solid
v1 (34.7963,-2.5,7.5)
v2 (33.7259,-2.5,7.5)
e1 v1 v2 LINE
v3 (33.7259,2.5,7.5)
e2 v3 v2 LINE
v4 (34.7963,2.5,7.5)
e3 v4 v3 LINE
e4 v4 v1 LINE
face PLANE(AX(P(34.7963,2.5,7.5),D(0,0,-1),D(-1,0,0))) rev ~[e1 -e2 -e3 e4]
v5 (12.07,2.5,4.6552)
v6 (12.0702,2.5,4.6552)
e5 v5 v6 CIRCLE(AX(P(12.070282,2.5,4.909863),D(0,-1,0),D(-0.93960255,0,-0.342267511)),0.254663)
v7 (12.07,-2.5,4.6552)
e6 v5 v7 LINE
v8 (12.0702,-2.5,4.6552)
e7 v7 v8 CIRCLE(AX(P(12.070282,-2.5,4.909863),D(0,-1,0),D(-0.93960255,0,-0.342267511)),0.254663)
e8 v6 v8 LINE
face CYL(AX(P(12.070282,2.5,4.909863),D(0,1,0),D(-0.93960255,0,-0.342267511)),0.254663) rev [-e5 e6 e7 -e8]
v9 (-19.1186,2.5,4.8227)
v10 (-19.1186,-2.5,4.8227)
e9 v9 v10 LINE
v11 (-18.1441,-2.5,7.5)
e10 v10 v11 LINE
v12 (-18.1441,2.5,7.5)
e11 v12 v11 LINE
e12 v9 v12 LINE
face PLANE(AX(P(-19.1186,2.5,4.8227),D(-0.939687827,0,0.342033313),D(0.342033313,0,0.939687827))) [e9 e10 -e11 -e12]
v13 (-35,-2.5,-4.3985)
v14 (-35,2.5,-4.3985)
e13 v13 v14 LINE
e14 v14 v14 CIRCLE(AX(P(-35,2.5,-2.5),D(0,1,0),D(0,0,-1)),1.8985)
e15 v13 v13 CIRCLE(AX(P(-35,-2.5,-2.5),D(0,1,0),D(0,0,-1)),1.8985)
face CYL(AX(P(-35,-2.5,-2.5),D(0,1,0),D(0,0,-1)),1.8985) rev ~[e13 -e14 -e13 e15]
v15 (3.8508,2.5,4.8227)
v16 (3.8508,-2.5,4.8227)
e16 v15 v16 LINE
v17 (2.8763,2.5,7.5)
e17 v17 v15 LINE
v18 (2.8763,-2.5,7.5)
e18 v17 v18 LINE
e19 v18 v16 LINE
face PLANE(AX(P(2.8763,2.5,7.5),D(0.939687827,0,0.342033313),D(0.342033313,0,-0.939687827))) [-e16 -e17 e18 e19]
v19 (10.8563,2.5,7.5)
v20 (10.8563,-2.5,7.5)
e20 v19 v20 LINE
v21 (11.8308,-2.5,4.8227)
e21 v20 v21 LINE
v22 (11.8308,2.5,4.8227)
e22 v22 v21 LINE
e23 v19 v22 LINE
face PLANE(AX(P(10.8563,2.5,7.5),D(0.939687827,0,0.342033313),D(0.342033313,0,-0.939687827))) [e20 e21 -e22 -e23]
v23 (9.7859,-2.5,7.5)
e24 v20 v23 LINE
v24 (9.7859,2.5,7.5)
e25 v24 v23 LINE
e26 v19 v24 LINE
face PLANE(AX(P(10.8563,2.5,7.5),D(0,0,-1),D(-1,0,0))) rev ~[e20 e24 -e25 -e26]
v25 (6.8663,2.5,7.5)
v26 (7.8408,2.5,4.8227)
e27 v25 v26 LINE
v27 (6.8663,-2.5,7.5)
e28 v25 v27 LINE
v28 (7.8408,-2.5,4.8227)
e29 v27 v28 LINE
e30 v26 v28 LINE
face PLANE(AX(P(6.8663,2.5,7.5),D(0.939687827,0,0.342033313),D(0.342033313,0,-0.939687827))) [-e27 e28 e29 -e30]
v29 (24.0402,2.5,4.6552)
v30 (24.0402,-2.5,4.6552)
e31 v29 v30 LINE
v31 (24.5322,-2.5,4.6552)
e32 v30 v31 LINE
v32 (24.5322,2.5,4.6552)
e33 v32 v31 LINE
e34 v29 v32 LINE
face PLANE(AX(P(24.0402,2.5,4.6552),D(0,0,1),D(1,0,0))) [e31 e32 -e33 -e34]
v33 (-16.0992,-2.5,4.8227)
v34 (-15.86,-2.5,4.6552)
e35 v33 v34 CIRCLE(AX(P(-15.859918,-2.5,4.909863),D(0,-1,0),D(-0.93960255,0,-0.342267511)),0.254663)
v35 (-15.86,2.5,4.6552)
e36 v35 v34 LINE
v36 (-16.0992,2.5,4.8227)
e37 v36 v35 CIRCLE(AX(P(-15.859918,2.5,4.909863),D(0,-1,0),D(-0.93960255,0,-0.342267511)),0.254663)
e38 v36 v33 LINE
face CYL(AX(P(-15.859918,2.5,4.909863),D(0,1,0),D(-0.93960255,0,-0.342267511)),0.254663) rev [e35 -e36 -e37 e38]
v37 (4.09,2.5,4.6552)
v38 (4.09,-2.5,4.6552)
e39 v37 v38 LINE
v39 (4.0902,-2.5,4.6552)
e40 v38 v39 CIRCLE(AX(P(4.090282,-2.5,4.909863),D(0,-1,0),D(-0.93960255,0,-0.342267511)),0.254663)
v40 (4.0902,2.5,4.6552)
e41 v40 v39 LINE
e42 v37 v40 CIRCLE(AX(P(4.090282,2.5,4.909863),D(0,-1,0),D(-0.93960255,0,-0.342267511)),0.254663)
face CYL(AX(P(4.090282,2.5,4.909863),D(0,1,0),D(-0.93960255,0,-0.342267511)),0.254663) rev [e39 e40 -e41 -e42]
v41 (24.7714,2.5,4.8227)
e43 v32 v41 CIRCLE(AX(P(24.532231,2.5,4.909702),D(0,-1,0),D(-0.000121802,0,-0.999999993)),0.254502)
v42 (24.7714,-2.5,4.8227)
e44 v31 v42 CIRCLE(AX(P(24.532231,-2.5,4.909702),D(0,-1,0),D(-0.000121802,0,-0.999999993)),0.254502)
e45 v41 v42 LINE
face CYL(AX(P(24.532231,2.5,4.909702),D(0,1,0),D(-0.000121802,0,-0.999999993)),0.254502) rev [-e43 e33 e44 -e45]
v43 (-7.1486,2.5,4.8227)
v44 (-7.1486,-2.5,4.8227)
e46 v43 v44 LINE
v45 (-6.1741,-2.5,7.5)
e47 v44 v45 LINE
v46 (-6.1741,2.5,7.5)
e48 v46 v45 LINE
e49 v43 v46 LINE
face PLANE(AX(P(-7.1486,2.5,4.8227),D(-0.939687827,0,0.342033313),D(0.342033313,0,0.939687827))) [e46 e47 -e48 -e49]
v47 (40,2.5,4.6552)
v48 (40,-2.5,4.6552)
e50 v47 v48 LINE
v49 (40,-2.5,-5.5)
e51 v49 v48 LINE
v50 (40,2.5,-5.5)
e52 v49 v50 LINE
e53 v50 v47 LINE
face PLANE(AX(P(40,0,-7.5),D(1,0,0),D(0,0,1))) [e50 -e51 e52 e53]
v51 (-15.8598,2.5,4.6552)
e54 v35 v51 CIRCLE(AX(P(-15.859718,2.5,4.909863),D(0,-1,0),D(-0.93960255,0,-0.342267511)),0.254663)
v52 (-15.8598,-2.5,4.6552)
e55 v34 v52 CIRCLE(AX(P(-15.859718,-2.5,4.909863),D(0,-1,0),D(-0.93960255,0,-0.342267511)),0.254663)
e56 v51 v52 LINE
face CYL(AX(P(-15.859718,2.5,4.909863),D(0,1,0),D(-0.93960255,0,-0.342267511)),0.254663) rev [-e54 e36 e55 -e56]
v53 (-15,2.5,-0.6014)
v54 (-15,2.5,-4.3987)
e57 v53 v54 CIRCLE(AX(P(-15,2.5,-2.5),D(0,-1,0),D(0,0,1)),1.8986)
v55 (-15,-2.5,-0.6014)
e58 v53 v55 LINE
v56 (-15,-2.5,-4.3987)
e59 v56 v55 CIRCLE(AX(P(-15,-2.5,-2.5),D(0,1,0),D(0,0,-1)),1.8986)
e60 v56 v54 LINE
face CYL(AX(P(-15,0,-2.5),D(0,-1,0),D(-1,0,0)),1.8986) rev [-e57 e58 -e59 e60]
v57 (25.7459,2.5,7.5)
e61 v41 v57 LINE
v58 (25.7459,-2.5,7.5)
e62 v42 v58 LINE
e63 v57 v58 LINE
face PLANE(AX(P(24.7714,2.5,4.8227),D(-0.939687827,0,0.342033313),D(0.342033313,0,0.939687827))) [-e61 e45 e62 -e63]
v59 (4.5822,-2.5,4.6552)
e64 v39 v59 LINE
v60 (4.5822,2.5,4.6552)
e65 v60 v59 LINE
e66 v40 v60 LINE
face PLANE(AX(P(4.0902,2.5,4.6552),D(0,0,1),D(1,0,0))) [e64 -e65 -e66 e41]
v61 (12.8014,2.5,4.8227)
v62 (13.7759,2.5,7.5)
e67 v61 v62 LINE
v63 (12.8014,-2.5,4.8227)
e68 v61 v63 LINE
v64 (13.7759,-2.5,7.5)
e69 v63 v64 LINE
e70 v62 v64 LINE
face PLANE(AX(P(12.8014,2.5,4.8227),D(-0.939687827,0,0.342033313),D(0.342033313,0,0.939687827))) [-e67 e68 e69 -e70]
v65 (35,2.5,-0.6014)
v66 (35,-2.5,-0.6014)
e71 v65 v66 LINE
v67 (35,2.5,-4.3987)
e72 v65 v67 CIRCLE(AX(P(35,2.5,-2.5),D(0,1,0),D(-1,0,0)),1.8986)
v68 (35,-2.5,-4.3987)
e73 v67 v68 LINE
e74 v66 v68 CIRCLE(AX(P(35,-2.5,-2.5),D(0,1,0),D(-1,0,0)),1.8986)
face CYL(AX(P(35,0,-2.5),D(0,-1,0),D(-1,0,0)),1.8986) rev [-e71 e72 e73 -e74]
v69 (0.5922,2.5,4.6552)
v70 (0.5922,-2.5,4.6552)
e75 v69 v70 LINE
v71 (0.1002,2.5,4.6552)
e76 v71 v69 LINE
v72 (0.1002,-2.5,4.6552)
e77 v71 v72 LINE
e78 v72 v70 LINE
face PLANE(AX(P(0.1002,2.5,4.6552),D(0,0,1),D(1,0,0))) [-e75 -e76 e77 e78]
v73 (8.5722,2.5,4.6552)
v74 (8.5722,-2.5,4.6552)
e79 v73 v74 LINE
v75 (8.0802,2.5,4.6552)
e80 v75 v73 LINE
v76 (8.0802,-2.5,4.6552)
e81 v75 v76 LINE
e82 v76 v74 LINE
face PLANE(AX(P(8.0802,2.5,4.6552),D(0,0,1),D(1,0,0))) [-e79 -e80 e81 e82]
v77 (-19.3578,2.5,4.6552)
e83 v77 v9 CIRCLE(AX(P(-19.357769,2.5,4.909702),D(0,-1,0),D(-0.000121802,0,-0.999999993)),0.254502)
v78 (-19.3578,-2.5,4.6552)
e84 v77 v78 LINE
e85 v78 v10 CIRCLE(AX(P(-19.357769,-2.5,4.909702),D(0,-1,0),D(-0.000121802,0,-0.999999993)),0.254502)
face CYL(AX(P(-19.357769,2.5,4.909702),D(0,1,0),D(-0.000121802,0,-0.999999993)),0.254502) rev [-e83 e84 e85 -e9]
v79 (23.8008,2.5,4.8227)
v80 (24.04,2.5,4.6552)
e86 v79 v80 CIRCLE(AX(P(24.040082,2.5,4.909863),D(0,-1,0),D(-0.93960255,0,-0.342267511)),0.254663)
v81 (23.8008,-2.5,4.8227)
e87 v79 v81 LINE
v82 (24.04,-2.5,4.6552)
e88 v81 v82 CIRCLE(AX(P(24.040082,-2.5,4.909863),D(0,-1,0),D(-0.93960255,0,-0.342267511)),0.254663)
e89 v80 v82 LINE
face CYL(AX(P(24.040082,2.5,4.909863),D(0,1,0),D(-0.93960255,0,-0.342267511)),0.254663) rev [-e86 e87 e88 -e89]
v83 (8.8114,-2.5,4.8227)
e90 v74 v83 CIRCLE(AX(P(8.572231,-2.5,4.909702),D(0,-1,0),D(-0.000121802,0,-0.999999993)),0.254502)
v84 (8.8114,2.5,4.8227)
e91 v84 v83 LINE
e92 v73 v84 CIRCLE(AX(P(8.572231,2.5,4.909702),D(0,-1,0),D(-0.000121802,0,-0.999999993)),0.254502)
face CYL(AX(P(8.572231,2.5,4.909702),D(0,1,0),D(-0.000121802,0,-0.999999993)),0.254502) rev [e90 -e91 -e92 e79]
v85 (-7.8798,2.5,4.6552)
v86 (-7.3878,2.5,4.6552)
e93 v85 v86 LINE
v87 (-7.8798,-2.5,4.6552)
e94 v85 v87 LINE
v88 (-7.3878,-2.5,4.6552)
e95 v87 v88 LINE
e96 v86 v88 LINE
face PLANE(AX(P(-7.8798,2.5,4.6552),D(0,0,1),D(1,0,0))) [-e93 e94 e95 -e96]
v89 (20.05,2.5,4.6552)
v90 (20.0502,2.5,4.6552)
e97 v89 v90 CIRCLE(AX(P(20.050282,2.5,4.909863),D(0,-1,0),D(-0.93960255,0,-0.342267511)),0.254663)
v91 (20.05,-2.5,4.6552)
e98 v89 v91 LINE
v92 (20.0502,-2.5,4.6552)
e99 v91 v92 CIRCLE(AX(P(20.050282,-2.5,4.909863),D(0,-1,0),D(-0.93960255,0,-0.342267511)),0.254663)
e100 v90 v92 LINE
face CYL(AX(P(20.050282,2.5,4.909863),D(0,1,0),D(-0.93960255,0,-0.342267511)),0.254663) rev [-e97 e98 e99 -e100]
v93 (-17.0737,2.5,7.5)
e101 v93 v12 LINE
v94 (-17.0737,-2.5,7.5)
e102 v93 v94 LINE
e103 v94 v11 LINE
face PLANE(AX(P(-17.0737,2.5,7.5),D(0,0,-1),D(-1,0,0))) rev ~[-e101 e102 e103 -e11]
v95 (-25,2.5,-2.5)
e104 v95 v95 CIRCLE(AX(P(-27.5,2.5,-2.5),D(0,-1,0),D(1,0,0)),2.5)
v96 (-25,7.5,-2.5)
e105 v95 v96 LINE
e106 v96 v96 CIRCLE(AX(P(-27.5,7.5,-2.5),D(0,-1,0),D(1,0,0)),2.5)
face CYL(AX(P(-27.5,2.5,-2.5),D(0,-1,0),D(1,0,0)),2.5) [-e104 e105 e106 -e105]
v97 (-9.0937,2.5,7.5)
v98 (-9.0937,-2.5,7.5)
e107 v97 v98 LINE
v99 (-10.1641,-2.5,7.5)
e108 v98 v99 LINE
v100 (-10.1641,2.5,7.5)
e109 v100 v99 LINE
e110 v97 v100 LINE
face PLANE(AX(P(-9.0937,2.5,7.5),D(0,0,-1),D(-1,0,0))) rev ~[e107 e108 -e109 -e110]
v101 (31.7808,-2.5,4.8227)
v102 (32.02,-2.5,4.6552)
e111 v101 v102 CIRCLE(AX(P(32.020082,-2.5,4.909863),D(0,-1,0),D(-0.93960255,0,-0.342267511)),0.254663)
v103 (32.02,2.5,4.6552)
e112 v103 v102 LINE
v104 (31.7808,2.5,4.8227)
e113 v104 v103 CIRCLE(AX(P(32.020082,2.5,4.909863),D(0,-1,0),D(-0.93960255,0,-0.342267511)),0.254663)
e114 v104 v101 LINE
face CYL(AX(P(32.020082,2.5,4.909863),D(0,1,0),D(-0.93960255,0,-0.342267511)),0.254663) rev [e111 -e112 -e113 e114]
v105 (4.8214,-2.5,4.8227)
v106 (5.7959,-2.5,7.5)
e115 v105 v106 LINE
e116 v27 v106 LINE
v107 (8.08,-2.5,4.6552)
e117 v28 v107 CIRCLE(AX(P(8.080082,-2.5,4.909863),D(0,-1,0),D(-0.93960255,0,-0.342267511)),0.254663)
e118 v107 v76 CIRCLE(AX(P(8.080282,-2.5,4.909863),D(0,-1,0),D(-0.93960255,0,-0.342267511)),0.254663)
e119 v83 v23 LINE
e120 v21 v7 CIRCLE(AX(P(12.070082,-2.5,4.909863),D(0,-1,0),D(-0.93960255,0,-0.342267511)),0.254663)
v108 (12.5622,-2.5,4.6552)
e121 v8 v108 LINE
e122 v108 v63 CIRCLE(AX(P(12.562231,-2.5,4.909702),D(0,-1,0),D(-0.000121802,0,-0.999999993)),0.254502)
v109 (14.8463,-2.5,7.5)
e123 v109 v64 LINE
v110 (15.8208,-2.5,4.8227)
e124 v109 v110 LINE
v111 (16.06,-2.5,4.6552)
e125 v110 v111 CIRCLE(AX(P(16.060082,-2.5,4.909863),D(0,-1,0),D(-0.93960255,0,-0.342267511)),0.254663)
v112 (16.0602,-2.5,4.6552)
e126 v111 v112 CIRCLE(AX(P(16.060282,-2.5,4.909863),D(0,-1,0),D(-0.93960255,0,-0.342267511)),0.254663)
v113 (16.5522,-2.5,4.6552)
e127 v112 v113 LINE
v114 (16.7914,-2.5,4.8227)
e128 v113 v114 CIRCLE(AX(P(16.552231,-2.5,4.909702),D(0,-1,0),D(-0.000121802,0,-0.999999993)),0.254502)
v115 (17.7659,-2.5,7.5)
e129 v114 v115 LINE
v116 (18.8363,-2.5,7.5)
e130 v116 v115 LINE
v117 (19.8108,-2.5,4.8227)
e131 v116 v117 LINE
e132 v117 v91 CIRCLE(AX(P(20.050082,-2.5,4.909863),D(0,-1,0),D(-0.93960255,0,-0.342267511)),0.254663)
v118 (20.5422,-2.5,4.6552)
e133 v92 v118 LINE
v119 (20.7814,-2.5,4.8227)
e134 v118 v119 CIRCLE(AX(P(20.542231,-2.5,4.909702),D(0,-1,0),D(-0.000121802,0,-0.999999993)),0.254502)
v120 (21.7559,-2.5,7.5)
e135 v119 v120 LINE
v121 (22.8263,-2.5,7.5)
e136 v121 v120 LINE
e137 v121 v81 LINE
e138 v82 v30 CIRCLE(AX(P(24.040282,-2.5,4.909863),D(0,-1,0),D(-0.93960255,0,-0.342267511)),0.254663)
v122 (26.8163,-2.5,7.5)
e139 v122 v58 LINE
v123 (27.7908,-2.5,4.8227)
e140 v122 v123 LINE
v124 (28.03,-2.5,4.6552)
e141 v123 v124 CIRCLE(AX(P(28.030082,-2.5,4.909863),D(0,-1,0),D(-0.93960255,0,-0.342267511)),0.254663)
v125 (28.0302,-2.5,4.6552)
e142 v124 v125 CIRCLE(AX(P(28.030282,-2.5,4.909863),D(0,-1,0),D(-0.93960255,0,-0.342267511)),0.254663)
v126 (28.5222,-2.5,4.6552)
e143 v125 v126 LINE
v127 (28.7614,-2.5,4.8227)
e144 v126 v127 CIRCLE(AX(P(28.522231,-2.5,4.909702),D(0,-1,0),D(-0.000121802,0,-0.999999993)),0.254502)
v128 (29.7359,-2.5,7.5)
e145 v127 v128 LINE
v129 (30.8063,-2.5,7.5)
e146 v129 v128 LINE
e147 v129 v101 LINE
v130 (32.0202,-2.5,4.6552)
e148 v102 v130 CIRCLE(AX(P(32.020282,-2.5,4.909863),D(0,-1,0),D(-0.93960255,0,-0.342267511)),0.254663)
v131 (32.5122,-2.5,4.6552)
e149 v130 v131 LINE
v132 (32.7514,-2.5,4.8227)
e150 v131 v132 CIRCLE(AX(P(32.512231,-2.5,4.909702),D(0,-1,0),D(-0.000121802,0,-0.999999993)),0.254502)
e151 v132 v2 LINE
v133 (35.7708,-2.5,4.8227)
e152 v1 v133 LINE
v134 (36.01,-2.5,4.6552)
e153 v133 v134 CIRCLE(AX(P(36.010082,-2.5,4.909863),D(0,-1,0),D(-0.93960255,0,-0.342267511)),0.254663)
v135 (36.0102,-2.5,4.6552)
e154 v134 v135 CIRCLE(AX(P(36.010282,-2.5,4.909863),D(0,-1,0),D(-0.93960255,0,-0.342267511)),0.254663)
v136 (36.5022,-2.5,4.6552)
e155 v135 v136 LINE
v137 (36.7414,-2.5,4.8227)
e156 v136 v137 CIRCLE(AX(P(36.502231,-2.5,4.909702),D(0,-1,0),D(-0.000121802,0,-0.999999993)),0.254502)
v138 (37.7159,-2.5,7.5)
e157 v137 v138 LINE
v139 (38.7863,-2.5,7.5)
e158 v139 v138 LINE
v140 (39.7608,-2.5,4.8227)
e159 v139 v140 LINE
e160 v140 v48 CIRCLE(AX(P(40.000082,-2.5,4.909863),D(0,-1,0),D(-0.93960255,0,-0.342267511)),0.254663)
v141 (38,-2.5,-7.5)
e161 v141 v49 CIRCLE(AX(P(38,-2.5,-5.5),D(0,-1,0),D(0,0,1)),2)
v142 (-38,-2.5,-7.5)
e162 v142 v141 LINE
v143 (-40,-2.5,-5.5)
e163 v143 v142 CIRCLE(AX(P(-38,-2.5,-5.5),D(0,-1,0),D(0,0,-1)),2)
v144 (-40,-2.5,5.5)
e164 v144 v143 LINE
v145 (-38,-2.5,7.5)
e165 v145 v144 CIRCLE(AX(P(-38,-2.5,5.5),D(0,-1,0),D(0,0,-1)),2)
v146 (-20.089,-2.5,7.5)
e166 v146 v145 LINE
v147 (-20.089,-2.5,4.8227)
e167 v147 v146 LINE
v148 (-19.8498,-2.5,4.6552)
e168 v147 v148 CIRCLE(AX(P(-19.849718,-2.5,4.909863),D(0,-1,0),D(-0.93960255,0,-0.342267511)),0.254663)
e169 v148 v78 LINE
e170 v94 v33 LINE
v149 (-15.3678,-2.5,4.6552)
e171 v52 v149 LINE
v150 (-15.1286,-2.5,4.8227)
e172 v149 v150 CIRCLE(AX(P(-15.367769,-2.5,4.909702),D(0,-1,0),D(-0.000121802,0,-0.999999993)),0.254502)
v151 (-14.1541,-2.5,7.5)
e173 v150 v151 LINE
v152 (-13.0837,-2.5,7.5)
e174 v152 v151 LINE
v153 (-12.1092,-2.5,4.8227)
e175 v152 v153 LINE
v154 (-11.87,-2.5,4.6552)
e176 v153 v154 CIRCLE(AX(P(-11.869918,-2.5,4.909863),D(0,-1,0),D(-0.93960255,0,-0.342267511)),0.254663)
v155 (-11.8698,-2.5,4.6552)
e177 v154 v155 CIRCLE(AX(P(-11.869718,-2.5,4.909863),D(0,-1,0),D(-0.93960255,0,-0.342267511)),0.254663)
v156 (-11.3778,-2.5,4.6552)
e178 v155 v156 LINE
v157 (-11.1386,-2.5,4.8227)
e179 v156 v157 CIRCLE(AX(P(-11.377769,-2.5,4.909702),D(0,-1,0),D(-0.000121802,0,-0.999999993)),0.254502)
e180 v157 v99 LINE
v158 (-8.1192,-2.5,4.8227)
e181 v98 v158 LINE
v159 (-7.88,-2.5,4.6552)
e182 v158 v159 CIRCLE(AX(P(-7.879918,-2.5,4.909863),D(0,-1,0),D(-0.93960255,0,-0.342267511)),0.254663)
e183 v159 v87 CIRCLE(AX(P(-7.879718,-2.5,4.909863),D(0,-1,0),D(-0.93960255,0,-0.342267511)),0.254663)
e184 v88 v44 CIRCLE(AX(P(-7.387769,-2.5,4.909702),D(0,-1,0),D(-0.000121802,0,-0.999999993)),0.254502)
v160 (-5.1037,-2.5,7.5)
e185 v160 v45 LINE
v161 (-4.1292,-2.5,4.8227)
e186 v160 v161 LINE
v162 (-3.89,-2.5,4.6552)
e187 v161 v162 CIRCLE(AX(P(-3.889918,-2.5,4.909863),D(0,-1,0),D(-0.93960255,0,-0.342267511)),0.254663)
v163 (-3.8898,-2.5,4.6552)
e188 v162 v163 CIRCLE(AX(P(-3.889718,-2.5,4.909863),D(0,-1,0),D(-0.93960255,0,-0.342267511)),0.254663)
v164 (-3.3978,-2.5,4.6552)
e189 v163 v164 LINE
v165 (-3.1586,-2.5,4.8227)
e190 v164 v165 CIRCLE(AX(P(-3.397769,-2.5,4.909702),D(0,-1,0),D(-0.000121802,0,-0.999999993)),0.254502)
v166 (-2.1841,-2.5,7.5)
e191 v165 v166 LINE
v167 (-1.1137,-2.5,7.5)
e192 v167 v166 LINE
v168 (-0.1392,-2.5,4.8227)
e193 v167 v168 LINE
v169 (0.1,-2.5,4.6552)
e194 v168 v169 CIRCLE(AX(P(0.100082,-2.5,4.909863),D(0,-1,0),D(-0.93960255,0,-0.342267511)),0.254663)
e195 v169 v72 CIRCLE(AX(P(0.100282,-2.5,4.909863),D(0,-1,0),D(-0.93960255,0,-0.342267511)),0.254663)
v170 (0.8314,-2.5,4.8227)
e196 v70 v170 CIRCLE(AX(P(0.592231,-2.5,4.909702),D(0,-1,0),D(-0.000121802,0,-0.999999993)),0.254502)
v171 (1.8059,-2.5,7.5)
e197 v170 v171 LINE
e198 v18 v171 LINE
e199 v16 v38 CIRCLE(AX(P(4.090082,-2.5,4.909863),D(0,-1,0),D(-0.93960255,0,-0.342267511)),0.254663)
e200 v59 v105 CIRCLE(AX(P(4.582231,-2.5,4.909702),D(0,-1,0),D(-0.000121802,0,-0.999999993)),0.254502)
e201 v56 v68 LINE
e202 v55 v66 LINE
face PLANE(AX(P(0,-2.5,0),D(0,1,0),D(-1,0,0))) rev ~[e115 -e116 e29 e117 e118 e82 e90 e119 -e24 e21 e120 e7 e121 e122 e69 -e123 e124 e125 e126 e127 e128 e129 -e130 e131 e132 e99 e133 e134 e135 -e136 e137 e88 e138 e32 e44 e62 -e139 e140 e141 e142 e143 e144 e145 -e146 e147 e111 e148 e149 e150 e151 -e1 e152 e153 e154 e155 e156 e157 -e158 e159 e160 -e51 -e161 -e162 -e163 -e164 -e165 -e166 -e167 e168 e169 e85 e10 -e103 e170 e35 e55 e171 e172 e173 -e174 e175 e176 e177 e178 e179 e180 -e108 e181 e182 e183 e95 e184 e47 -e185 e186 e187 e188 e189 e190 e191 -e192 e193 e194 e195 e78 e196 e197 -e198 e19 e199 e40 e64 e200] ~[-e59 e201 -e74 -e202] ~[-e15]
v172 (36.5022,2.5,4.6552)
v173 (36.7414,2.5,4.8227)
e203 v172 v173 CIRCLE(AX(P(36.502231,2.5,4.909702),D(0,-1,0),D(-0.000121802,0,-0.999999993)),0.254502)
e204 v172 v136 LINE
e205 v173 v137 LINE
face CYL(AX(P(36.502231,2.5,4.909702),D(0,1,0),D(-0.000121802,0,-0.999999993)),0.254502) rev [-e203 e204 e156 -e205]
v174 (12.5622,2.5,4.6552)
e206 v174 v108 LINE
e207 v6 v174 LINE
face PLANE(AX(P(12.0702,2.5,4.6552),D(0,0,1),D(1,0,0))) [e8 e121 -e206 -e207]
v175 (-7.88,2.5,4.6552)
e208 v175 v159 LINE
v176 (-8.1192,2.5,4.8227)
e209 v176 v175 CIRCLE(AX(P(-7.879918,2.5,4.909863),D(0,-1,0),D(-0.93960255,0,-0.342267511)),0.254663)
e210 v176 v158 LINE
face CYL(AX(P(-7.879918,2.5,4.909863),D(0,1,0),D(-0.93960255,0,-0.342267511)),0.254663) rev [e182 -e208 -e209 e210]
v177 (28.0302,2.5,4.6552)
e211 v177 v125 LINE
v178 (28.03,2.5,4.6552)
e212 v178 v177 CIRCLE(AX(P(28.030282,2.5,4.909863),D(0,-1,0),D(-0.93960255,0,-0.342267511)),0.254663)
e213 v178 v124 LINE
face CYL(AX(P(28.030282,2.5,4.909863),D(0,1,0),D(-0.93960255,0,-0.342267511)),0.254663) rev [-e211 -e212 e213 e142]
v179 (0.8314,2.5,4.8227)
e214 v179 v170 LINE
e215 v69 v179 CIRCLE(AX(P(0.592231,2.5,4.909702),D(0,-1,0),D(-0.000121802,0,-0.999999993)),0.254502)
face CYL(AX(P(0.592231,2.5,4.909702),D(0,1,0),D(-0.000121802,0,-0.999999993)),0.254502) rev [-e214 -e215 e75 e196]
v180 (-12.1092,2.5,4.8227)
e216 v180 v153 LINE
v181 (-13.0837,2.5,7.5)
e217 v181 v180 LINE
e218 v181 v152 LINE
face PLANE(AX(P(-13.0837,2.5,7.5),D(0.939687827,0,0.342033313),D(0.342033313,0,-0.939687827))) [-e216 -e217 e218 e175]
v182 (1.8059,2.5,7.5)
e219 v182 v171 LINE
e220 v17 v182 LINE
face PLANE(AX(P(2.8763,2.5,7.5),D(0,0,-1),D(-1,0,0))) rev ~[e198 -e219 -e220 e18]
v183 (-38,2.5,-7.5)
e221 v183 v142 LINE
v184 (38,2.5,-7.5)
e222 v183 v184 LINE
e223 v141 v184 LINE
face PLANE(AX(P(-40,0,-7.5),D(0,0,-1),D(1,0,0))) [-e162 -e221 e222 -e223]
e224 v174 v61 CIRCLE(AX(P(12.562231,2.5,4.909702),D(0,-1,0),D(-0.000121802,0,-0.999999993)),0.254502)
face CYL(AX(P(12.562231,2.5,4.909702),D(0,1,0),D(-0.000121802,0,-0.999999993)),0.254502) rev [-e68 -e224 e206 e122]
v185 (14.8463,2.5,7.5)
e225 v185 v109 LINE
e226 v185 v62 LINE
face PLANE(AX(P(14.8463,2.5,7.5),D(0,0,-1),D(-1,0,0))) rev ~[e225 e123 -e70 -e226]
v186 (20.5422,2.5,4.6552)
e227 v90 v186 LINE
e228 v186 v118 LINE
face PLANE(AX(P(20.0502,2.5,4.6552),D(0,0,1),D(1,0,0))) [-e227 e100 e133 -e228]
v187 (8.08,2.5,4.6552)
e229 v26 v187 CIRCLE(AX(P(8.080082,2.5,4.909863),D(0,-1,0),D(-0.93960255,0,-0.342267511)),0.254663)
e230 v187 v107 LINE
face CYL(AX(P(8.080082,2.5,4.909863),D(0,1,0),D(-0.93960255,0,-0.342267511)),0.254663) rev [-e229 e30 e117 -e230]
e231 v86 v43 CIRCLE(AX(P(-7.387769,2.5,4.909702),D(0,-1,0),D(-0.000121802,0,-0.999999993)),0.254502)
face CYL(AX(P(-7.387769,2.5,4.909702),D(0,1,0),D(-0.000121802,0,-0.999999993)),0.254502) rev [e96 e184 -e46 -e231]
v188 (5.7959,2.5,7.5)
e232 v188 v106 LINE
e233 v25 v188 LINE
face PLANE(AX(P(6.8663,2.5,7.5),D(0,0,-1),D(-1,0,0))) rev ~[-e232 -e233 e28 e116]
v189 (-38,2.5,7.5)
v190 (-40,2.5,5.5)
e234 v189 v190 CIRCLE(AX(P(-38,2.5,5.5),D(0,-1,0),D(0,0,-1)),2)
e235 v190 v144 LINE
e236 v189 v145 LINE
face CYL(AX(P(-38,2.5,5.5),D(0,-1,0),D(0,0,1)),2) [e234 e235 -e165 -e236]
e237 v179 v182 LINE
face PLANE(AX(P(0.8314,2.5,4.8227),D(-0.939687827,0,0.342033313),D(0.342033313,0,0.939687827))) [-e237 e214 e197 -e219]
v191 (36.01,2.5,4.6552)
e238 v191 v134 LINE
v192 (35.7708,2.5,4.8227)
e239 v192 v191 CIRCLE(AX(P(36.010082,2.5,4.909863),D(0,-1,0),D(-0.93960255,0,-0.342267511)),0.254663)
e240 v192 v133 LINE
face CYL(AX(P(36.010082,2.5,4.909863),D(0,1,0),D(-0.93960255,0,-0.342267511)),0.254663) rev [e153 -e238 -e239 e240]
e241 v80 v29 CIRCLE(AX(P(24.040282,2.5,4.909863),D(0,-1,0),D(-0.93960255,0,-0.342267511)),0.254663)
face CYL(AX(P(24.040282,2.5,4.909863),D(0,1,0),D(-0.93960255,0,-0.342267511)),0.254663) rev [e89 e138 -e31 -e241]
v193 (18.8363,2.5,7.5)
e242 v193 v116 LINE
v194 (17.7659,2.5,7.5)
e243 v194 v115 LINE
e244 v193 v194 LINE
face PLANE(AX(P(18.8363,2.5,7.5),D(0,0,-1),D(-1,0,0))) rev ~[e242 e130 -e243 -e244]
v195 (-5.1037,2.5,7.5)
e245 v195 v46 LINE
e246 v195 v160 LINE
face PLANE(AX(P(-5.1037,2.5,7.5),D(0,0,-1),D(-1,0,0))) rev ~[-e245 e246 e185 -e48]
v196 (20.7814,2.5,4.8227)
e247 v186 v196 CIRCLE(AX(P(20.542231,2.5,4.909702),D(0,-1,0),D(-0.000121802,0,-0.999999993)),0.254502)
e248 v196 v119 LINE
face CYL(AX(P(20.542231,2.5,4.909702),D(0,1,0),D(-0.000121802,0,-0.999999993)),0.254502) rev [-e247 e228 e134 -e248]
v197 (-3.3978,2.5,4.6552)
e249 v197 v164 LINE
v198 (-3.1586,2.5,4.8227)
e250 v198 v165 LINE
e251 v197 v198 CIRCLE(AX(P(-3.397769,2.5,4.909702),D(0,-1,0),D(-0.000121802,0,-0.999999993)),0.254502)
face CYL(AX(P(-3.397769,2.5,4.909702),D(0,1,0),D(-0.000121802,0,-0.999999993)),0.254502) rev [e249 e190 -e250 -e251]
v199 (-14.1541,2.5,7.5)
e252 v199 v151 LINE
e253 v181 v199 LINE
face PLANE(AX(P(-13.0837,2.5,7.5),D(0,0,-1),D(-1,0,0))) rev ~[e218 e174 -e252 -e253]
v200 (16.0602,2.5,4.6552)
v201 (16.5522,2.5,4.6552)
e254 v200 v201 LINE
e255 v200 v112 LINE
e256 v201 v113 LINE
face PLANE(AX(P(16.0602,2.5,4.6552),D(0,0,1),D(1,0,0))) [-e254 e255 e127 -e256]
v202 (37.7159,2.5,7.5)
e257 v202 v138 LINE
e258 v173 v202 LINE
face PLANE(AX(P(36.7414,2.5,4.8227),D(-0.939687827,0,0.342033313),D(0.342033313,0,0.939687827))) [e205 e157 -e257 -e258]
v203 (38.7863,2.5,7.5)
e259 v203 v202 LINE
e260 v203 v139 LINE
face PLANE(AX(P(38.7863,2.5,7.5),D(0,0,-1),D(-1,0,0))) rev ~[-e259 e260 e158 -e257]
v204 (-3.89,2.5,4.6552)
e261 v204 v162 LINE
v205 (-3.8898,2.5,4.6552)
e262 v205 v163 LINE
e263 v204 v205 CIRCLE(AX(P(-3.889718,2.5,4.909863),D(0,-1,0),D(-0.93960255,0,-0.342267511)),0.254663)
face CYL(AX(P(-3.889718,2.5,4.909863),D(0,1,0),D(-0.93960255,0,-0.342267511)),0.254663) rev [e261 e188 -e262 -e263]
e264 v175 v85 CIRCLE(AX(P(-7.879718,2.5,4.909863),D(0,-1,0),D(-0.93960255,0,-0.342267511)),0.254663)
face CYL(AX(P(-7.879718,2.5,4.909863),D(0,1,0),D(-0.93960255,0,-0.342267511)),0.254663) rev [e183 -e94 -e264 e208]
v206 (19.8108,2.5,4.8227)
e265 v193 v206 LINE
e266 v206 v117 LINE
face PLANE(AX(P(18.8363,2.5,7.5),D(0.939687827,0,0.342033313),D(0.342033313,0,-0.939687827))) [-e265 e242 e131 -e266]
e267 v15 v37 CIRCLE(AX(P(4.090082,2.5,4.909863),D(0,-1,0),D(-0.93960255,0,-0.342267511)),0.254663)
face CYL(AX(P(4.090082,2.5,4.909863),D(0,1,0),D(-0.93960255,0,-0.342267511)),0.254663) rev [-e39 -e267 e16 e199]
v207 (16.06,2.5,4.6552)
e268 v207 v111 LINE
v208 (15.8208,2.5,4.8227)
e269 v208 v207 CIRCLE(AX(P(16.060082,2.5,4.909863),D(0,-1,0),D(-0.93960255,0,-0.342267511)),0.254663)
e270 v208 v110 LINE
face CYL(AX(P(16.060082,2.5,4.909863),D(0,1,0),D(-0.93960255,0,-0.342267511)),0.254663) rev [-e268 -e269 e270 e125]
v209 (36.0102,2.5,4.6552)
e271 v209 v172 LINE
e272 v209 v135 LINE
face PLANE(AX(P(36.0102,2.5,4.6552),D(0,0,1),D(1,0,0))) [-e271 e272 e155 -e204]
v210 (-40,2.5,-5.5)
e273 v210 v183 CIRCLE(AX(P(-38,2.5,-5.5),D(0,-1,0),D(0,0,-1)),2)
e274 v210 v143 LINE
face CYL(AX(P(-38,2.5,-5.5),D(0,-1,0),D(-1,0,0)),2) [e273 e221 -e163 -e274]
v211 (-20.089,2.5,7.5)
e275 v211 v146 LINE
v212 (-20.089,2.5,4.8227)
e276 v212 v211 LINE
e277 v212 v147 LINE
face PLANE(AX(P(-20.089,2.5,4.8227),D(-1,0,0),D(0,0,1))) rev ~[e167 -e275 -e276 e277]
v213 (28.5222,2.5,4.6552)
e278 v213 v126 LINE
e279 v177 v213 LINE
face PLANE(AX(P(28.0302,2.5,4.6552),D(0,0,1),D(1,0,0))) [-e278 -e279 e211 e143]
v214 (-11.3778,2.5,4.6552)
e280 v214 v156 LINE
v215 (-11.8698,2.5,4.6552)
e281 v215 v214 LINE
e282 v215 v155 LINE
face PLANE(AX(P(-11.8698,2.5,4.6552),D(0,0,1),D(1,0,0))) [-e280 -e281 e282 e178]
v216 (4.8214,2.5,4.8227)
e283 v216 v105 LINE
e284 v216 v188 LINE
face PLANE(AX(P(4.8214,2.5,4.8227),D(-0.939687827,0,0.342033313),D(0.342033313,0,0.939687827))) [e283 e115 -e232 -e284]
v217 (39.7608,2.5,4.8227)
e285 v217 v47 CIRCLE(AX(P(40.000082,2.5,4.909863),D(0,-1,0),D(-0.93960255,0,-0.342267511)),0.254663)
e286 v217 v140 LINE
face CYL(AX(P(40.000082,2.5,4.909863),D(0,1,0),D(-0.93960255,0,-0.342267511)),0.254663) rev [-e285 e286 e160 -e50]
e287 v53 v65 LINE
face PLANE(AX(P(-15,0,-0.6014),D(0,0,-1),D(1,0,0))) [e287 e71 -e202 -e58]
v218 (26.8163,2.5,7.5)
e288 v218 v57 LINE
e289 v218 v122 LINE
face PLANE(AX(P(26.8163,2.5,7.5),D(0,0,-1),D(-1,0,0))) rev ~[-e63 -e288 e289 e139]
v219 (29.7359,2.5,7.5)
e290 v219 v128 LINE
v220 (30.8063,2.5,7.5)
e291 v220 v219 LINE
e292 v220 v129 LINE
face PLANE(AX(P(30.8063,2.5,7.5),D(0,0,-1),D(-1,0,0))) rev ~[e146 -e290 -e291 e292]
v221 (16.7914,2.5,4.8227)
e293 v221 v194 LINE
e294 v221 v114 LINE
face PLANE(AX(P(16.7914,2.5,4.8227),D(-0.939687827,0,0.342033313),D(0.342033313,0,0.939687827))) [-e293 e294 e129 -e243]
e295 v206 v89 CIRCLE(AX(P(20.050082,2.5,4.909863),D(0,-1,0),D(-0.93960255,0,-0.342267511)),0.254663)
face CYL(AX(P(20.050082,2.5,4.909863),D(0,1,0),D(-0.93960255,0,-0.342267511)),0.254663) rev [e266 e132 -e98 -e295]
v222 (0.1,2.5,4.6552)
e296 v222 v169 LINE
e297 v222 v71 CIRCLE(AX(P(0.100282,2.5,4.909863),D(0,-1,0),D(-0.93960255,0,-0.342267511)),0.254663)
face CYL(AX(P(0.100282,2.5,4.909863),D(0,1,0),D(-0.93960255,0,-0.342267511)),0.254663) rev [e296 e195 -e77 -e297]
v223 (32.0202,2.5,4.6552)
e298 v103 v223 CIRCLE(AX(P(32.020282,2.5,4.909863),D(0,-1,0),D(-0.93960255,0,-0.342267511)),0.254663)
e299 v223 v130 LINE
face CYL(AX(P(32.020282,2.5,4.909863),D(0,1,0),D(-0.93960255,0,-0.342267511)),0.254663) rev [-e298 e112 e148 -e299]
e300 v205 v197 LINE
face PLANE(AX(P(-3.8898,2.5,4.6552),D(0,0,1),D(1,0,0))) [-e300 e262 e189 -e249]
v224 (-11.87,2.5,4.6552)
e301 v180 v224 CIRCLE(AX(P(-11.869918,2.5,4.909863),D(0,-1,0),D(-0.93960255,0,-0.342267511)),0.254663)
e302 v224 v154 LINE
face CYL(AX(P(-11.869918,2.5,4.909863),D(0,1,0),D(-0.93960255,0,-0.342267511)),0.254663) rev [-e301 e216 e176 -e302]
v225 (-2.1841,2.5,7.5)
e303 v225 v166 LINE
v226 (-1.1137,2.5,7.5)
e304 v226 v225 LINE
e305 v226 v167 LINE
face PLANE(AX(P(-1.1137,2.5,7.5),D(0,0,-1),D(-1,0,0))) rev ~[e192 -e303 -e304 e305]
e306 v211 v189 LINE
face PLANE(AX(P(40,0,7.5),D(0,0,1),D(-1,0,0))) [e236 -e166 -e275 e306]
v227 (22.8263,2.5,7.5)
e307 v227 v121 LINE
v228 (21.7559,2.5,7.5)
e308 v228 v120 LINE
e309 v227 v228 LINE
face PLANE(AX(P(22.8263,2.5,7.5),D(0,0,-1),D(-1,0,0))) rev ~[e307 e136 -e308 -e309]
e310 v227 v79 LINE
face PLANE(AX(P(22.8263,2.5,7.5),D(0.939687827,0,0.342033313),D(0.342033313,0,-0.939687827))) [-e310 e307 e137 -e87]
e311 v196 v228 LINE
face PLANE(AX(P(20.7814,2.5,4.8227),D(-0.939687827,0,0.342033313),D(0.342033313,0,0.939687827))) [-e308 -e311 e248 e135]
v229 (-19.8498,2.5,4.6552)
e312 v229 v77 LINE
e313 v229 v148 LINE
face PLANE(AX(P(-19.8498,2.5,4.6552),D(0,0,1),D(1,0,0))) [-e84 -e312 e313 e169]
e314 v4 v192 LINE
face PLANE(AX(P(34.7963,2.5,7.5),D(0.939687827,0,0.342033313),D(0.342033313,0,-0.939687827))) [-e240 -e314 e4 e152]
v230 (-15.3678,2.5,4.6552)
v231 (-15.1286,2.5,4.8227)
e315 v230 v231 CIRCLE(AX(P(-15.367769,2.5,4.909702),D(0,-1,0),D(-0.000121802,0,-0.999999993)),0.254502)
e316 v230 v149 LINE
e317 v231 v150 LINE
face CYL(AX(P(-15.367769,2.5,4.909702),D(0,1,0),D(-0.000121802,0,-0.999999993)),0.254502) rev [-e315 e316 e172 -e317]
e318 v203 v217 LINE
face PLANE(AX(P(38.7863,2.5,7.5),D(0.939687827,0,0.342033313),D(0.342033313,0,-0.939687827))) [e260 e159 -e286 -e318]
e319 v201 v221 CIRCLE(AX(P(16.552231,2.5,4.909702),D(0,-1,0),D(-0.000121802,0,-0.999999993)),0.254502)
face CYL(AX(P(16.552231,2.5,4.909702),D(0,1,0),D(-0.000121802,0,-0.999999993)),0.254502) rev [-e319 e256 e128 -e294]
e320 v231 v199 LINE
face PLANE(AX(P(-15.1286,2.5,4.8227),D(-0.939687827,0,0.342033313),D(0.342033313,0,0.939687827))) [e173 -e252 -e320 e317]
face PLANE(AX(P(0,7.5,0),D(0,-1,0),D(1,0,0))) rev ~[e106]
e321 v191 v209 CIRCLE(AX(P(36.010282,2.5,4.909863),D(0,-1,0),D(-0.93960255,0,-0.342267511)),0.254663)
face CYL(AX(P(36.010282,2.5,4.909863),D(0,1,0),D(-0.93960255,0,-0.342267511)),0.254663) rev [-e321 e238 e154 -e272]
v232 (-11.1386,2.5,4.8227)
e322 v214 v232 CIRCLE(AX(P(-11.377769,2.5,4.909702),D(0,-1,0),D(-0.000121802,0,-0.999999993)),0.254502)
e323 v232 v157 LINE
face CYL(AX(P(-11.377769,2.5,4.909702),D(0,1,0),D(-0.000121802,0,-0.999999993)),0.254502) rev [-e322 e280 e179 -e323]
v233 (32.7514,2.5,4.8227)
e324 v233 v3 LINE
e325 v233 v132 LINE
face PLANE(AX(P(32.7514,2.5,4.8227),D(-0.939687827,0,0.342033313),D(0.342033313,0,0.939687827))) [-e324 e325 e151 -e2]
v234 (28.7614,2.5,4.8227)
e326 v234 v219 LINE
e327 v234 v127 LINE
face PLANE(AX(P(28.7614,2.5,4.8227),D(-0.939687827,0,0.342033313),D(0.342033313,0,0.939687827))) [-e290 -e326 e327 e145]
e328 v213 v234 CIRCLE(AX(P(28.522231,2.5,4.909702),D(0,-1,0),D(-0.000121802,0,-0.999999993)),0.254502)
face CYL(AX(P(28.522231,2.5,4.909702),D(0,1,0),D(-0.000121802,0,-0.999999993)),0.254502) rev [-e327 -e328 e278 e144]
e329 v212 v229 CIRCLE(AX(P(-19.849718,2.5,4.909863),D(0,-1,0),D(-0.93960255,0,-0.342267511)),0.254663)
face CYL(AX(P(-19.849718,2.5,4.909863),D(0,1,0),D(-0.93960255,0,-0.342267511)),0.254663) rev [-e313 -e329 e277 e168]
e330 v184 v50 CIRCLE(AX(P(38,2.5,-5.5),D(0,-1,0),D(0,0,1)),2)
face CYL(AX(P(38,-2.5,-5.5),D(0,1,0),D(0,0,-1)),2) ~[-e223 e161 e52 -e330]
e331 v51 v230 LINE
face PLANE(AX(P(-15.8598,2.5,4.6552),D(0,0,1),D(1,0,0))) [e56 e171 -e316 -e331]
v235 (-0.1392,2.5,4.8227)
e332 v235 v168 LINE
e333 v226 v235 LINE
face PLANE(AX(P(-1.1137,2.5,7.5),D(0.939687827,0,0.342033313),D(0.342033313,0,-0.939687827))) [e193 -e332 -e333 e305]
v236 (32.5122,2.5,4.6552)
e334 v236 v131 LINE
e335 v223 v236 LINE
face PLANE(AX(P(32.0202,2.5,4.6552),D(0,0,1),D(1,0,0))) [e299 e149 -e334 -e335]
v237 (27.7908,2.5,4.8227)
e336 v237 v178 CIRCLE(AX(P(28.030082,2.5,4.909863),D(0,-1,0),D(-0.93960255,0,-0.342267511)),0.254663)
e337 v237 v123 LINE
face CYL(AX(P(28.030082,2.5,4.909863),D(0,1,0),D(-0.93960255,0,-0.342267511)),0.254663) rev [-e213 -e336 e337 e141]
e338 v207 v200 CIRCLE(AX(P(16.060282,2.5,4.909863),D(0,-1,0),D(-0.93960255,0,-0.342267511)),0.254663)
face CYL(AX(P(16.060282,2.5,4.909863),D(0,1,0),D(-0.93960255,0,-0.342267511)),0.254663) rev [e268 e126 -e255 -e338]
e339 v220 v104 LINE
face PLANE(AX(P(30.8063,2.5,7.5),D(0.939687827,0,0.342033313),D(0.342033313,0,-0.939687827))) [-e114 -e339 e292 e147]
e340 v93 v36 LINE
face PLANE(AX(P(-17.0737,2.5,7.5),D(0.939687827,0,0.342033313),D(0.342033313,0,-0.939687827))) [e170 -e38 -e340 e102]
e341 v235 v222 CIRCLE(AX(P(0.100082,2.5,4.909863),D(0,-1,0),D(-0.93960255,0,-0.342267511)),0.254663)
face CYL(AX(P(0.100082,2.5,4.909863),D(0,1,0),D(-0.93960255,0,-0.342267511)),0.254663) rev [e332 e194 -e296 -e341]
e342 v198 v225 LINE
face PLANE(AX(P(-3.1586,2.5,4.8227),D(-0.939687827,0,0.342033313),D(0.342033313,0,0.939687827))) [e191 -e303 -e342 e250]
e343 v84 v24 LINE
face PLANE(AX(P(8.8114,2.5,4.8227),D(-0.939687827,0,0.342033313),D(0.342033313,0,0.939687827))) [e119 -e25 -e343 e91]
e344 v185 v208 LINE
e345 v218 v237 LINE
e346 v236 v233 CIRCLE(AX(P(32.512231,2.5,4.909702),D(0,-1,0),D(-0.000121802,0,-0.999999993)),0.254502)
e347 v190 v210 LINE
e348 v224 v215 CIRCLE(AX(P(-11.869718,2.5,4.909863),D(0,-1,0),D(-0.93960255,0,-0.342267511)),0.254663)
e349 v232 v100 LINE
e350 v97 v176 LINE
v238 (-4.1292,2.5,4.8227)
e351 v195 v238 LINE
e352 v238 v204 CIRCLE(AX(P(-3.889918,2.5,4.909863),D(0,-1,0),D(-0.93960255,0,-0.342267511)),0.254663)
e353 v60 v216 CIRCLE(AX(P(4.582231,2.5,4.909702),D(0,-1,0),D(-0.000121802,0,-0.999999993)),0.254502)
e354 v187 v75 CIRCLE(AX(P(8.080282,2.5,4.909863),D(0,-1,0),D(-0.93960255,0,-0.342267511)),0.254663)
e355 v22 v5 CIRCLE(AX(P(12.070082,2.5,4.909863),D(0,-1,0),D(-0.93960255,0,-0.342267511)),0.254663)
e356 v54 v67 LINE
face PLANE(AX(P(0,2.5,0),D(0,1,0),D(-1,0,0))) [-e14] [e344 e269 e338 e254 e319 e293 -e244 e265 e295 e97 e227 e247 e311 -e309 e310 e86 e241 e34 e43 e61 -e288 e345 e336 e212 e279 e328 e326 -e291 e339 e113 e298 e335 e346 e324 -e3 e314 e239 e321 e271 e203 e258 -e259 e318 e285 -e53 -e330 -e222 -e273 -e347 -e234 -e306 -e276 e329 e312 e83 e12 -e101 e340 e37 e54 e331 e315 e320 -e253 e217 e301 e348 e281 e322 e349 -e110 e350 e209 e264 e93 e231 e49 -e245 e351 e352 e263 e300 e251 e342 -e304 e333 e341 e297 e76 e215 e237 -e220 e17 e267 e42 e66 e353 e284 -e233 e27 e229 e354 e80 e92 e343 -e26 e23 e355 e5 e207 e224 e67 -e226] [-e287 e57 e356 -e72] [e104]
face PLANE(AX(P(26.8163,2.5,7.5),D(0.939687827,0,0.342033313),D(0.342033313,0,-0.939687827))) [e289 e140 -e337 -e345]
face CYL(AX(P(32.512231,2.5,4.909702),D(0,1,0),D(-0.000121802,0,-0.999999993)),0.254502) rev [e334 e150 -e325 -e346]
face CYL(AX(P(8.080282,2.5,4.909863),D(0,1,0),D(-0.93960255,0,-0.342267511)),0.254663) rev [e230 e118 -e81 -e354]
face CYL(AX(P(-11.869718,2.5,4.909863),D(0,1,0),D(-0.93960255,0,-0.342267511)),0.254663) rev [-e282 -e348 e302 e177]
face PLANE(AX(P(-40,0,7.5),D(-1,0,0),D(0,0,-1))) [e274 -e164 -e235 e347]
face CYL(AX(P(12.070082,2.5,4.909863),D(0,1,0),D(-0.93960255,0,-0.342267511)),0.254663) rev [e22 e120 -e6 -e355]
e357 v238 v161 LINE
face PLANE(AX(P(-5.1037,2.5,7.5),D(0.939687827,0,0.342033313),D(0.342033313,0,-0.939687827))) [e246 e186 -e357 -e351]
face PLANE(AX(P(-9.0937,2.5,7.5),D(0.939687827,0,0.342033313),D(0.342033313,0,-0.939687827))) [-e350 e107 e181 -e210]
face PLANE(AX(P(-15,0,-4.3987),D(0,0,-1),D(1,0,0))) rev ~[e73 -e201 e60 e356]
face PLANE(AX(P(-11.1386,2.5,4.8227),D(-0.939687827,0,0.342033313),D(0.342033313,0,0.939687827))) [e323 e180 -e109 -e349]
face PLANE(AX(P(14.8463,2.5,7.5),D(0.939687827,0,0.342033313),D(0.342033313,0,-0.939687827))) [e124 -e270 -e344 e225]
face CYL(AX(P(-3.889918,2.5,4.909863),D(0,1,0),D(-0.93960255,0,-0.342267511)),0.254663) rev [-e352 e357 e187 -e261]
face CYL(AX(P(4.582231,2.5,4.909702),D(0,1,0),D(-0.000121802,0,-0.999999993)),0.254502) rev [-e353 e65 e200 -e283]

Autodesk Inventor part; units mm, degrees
ref_plane "YZ Plane" through (0, 0, 0) normal (1, 0, 0) x (0, 1, 0)
ref_plane "XZ Plane" through (0, 0, 0) normal (0, 1, 0) x (-1, 0, 0)
ref_plane "XY Plane" through (0, 0, 0) normal (0, 0, 1) x (1, 0, 0)
sketch "Sketch1" plane through (0, 0, 0) normal (0, 1, 0) x (-1, 0, 0)
  line L0 (-40, 7.5) -> (40, 7.5)
  line L1 (40, 7.5) -> (40, -7.5)
  line L2 (40, -7.5) -> (-40, -7.5)
  line L3 (-40, -7.5) -> (-40, 7.5)
  line L4 (-40, 7.5) -> (40, -7.5) construction
  line L5 (40, 7.5) -> (-40, -7.5) construction
  circle A0 centre (15, -2.5) radius 1.8986
  circle A1 centre (-35, -2.5) radius 1.8986
  line L6 (15, -0.6014) -> (-35, -0.6014)
  line L7 (15, -4.3987) -> (-35, -4.3987)
  point P0 (0, 0)
  point P1 (0, 0)
  point P2 (35, 0)
  point P3 (0, 0)
  dimension "d0" = 80
  dimension "d1" = 15
  dimension "d8" = 5
  dimension "d61" = 3.7973
  dimension "d62" = 3.7973
  dimension "d63" = 5
  dimension "d64" = 5
  dimension "d65" = 50
extrude "Extrusion1" add sketch "Sketch1" along normal mid plane 5
sketch "Sketch2" plane through (0, -2.5, 0) normal (0, -1, 0) x (1, 0, 0)
  line L0 (-40, 7.5) -> (-40, -7.5) projected
  line L1 (-40, -7.5) -> (40, -7.5) projected
  point P0 (0, 0)
  point P1 (-35, -2.5)
  point P2 (-40, 0)
  dimension "d16" = 5
  dimension "d60" = 5
hole "Hole2" at (-35, -2.5, -2.5) direction (0, 1, 0) diameter 3.797 end through all clearance for "Flat Head Machine Screw (82)" size "#6" standard "Ansi Unified Screw Threads"
sketch "Sketch3" plane through (0, 2.5, 0) normal (0, -1, 0) x (1, 0, 0)
  circle A0 centre (-27.5, -2.5) radius 2.5
  line L0 (-40, 7.5) -> (-40, -7.5) projected
  circle A1 centre (-35, -2.5) radius 1.8985 projected
  point P0 (0, 0)
  point P1 (-40, 0)
  dimension "d24" = 5
  dimension "d26" = 7.5
extrude "Extrusion2" add sketch "Sketch3" against normal blind 5 contours A0
sketch "Sketch5" plane through (0, 2.5, 0) normal (0, -1, 0) x (1, 0, 0)
  arc A0 (35.771, 4.8227) -> (36.0102, 4.6552) centre (36.0102, 4.9098) ccw
  line L0 (36.0102, 4.6552) -> (36.5022, 4.6552)
  arc A1 (36.5022, 4.6552) -> (36.7414, 4.8227) centre (36.5022, 4.9098) ccw
  line L1 (36.7414, 4.8227) -> (37.7159, 7.5)
  line L2 (38.7863, 7.5) -> (37.7159, 7.5)
  line L3 (38.7863, 7.5) -> (39.7608, 4.8227)
  arc A2 (39.7608, 4.8227) -> (40, 4.6552) centre (40, 4.9098) ccw
  line L4 (36.5022, 4.9098) -> (40, 4.9098) construction
  line L5 (40, 7.5) -> (-40, 7.5) construction
  line L6 (40, -7.5) -> (40, 7.5) construction
  line L7 (35.771, 4.8227) -> (35.771, 10.6552)
  line L8 (35.771, 10.6552) -> (40, 10.6552)
  line L9 (40, 10.6552) -> (40, 4.6552)
  line L10 (40, -7.5) -> (-40, -7.5) projected
  dimension "d49" = 0.2546
  dimension "d50" = 0.2546
  dimension "d51" = 0.4921
  dimension "d52" = 1.0704
  dimension "d53" = 2.8448
  dimension "d54" = 3.0194
  dimension "d55" = 0.2546
  dimension "d68" = 15
  dimension "d69" = 6
extrude "Extrusion4" cut sketch "Sketch5" along normal blind 5
pattern_linear "Rectangular Pattern1" count 15 spacing 3.99 along (-1, 0, 0) of "Extrusion4"
fillet "Fillet1" radius 2 3 edges at (-40, 0, 7.5) (-40, 0, -7.5) (40, 0, -7.5)
equation "\"d62\" = d61"
equation "\"d55\" = d50"
properties part number "RackMirror"
